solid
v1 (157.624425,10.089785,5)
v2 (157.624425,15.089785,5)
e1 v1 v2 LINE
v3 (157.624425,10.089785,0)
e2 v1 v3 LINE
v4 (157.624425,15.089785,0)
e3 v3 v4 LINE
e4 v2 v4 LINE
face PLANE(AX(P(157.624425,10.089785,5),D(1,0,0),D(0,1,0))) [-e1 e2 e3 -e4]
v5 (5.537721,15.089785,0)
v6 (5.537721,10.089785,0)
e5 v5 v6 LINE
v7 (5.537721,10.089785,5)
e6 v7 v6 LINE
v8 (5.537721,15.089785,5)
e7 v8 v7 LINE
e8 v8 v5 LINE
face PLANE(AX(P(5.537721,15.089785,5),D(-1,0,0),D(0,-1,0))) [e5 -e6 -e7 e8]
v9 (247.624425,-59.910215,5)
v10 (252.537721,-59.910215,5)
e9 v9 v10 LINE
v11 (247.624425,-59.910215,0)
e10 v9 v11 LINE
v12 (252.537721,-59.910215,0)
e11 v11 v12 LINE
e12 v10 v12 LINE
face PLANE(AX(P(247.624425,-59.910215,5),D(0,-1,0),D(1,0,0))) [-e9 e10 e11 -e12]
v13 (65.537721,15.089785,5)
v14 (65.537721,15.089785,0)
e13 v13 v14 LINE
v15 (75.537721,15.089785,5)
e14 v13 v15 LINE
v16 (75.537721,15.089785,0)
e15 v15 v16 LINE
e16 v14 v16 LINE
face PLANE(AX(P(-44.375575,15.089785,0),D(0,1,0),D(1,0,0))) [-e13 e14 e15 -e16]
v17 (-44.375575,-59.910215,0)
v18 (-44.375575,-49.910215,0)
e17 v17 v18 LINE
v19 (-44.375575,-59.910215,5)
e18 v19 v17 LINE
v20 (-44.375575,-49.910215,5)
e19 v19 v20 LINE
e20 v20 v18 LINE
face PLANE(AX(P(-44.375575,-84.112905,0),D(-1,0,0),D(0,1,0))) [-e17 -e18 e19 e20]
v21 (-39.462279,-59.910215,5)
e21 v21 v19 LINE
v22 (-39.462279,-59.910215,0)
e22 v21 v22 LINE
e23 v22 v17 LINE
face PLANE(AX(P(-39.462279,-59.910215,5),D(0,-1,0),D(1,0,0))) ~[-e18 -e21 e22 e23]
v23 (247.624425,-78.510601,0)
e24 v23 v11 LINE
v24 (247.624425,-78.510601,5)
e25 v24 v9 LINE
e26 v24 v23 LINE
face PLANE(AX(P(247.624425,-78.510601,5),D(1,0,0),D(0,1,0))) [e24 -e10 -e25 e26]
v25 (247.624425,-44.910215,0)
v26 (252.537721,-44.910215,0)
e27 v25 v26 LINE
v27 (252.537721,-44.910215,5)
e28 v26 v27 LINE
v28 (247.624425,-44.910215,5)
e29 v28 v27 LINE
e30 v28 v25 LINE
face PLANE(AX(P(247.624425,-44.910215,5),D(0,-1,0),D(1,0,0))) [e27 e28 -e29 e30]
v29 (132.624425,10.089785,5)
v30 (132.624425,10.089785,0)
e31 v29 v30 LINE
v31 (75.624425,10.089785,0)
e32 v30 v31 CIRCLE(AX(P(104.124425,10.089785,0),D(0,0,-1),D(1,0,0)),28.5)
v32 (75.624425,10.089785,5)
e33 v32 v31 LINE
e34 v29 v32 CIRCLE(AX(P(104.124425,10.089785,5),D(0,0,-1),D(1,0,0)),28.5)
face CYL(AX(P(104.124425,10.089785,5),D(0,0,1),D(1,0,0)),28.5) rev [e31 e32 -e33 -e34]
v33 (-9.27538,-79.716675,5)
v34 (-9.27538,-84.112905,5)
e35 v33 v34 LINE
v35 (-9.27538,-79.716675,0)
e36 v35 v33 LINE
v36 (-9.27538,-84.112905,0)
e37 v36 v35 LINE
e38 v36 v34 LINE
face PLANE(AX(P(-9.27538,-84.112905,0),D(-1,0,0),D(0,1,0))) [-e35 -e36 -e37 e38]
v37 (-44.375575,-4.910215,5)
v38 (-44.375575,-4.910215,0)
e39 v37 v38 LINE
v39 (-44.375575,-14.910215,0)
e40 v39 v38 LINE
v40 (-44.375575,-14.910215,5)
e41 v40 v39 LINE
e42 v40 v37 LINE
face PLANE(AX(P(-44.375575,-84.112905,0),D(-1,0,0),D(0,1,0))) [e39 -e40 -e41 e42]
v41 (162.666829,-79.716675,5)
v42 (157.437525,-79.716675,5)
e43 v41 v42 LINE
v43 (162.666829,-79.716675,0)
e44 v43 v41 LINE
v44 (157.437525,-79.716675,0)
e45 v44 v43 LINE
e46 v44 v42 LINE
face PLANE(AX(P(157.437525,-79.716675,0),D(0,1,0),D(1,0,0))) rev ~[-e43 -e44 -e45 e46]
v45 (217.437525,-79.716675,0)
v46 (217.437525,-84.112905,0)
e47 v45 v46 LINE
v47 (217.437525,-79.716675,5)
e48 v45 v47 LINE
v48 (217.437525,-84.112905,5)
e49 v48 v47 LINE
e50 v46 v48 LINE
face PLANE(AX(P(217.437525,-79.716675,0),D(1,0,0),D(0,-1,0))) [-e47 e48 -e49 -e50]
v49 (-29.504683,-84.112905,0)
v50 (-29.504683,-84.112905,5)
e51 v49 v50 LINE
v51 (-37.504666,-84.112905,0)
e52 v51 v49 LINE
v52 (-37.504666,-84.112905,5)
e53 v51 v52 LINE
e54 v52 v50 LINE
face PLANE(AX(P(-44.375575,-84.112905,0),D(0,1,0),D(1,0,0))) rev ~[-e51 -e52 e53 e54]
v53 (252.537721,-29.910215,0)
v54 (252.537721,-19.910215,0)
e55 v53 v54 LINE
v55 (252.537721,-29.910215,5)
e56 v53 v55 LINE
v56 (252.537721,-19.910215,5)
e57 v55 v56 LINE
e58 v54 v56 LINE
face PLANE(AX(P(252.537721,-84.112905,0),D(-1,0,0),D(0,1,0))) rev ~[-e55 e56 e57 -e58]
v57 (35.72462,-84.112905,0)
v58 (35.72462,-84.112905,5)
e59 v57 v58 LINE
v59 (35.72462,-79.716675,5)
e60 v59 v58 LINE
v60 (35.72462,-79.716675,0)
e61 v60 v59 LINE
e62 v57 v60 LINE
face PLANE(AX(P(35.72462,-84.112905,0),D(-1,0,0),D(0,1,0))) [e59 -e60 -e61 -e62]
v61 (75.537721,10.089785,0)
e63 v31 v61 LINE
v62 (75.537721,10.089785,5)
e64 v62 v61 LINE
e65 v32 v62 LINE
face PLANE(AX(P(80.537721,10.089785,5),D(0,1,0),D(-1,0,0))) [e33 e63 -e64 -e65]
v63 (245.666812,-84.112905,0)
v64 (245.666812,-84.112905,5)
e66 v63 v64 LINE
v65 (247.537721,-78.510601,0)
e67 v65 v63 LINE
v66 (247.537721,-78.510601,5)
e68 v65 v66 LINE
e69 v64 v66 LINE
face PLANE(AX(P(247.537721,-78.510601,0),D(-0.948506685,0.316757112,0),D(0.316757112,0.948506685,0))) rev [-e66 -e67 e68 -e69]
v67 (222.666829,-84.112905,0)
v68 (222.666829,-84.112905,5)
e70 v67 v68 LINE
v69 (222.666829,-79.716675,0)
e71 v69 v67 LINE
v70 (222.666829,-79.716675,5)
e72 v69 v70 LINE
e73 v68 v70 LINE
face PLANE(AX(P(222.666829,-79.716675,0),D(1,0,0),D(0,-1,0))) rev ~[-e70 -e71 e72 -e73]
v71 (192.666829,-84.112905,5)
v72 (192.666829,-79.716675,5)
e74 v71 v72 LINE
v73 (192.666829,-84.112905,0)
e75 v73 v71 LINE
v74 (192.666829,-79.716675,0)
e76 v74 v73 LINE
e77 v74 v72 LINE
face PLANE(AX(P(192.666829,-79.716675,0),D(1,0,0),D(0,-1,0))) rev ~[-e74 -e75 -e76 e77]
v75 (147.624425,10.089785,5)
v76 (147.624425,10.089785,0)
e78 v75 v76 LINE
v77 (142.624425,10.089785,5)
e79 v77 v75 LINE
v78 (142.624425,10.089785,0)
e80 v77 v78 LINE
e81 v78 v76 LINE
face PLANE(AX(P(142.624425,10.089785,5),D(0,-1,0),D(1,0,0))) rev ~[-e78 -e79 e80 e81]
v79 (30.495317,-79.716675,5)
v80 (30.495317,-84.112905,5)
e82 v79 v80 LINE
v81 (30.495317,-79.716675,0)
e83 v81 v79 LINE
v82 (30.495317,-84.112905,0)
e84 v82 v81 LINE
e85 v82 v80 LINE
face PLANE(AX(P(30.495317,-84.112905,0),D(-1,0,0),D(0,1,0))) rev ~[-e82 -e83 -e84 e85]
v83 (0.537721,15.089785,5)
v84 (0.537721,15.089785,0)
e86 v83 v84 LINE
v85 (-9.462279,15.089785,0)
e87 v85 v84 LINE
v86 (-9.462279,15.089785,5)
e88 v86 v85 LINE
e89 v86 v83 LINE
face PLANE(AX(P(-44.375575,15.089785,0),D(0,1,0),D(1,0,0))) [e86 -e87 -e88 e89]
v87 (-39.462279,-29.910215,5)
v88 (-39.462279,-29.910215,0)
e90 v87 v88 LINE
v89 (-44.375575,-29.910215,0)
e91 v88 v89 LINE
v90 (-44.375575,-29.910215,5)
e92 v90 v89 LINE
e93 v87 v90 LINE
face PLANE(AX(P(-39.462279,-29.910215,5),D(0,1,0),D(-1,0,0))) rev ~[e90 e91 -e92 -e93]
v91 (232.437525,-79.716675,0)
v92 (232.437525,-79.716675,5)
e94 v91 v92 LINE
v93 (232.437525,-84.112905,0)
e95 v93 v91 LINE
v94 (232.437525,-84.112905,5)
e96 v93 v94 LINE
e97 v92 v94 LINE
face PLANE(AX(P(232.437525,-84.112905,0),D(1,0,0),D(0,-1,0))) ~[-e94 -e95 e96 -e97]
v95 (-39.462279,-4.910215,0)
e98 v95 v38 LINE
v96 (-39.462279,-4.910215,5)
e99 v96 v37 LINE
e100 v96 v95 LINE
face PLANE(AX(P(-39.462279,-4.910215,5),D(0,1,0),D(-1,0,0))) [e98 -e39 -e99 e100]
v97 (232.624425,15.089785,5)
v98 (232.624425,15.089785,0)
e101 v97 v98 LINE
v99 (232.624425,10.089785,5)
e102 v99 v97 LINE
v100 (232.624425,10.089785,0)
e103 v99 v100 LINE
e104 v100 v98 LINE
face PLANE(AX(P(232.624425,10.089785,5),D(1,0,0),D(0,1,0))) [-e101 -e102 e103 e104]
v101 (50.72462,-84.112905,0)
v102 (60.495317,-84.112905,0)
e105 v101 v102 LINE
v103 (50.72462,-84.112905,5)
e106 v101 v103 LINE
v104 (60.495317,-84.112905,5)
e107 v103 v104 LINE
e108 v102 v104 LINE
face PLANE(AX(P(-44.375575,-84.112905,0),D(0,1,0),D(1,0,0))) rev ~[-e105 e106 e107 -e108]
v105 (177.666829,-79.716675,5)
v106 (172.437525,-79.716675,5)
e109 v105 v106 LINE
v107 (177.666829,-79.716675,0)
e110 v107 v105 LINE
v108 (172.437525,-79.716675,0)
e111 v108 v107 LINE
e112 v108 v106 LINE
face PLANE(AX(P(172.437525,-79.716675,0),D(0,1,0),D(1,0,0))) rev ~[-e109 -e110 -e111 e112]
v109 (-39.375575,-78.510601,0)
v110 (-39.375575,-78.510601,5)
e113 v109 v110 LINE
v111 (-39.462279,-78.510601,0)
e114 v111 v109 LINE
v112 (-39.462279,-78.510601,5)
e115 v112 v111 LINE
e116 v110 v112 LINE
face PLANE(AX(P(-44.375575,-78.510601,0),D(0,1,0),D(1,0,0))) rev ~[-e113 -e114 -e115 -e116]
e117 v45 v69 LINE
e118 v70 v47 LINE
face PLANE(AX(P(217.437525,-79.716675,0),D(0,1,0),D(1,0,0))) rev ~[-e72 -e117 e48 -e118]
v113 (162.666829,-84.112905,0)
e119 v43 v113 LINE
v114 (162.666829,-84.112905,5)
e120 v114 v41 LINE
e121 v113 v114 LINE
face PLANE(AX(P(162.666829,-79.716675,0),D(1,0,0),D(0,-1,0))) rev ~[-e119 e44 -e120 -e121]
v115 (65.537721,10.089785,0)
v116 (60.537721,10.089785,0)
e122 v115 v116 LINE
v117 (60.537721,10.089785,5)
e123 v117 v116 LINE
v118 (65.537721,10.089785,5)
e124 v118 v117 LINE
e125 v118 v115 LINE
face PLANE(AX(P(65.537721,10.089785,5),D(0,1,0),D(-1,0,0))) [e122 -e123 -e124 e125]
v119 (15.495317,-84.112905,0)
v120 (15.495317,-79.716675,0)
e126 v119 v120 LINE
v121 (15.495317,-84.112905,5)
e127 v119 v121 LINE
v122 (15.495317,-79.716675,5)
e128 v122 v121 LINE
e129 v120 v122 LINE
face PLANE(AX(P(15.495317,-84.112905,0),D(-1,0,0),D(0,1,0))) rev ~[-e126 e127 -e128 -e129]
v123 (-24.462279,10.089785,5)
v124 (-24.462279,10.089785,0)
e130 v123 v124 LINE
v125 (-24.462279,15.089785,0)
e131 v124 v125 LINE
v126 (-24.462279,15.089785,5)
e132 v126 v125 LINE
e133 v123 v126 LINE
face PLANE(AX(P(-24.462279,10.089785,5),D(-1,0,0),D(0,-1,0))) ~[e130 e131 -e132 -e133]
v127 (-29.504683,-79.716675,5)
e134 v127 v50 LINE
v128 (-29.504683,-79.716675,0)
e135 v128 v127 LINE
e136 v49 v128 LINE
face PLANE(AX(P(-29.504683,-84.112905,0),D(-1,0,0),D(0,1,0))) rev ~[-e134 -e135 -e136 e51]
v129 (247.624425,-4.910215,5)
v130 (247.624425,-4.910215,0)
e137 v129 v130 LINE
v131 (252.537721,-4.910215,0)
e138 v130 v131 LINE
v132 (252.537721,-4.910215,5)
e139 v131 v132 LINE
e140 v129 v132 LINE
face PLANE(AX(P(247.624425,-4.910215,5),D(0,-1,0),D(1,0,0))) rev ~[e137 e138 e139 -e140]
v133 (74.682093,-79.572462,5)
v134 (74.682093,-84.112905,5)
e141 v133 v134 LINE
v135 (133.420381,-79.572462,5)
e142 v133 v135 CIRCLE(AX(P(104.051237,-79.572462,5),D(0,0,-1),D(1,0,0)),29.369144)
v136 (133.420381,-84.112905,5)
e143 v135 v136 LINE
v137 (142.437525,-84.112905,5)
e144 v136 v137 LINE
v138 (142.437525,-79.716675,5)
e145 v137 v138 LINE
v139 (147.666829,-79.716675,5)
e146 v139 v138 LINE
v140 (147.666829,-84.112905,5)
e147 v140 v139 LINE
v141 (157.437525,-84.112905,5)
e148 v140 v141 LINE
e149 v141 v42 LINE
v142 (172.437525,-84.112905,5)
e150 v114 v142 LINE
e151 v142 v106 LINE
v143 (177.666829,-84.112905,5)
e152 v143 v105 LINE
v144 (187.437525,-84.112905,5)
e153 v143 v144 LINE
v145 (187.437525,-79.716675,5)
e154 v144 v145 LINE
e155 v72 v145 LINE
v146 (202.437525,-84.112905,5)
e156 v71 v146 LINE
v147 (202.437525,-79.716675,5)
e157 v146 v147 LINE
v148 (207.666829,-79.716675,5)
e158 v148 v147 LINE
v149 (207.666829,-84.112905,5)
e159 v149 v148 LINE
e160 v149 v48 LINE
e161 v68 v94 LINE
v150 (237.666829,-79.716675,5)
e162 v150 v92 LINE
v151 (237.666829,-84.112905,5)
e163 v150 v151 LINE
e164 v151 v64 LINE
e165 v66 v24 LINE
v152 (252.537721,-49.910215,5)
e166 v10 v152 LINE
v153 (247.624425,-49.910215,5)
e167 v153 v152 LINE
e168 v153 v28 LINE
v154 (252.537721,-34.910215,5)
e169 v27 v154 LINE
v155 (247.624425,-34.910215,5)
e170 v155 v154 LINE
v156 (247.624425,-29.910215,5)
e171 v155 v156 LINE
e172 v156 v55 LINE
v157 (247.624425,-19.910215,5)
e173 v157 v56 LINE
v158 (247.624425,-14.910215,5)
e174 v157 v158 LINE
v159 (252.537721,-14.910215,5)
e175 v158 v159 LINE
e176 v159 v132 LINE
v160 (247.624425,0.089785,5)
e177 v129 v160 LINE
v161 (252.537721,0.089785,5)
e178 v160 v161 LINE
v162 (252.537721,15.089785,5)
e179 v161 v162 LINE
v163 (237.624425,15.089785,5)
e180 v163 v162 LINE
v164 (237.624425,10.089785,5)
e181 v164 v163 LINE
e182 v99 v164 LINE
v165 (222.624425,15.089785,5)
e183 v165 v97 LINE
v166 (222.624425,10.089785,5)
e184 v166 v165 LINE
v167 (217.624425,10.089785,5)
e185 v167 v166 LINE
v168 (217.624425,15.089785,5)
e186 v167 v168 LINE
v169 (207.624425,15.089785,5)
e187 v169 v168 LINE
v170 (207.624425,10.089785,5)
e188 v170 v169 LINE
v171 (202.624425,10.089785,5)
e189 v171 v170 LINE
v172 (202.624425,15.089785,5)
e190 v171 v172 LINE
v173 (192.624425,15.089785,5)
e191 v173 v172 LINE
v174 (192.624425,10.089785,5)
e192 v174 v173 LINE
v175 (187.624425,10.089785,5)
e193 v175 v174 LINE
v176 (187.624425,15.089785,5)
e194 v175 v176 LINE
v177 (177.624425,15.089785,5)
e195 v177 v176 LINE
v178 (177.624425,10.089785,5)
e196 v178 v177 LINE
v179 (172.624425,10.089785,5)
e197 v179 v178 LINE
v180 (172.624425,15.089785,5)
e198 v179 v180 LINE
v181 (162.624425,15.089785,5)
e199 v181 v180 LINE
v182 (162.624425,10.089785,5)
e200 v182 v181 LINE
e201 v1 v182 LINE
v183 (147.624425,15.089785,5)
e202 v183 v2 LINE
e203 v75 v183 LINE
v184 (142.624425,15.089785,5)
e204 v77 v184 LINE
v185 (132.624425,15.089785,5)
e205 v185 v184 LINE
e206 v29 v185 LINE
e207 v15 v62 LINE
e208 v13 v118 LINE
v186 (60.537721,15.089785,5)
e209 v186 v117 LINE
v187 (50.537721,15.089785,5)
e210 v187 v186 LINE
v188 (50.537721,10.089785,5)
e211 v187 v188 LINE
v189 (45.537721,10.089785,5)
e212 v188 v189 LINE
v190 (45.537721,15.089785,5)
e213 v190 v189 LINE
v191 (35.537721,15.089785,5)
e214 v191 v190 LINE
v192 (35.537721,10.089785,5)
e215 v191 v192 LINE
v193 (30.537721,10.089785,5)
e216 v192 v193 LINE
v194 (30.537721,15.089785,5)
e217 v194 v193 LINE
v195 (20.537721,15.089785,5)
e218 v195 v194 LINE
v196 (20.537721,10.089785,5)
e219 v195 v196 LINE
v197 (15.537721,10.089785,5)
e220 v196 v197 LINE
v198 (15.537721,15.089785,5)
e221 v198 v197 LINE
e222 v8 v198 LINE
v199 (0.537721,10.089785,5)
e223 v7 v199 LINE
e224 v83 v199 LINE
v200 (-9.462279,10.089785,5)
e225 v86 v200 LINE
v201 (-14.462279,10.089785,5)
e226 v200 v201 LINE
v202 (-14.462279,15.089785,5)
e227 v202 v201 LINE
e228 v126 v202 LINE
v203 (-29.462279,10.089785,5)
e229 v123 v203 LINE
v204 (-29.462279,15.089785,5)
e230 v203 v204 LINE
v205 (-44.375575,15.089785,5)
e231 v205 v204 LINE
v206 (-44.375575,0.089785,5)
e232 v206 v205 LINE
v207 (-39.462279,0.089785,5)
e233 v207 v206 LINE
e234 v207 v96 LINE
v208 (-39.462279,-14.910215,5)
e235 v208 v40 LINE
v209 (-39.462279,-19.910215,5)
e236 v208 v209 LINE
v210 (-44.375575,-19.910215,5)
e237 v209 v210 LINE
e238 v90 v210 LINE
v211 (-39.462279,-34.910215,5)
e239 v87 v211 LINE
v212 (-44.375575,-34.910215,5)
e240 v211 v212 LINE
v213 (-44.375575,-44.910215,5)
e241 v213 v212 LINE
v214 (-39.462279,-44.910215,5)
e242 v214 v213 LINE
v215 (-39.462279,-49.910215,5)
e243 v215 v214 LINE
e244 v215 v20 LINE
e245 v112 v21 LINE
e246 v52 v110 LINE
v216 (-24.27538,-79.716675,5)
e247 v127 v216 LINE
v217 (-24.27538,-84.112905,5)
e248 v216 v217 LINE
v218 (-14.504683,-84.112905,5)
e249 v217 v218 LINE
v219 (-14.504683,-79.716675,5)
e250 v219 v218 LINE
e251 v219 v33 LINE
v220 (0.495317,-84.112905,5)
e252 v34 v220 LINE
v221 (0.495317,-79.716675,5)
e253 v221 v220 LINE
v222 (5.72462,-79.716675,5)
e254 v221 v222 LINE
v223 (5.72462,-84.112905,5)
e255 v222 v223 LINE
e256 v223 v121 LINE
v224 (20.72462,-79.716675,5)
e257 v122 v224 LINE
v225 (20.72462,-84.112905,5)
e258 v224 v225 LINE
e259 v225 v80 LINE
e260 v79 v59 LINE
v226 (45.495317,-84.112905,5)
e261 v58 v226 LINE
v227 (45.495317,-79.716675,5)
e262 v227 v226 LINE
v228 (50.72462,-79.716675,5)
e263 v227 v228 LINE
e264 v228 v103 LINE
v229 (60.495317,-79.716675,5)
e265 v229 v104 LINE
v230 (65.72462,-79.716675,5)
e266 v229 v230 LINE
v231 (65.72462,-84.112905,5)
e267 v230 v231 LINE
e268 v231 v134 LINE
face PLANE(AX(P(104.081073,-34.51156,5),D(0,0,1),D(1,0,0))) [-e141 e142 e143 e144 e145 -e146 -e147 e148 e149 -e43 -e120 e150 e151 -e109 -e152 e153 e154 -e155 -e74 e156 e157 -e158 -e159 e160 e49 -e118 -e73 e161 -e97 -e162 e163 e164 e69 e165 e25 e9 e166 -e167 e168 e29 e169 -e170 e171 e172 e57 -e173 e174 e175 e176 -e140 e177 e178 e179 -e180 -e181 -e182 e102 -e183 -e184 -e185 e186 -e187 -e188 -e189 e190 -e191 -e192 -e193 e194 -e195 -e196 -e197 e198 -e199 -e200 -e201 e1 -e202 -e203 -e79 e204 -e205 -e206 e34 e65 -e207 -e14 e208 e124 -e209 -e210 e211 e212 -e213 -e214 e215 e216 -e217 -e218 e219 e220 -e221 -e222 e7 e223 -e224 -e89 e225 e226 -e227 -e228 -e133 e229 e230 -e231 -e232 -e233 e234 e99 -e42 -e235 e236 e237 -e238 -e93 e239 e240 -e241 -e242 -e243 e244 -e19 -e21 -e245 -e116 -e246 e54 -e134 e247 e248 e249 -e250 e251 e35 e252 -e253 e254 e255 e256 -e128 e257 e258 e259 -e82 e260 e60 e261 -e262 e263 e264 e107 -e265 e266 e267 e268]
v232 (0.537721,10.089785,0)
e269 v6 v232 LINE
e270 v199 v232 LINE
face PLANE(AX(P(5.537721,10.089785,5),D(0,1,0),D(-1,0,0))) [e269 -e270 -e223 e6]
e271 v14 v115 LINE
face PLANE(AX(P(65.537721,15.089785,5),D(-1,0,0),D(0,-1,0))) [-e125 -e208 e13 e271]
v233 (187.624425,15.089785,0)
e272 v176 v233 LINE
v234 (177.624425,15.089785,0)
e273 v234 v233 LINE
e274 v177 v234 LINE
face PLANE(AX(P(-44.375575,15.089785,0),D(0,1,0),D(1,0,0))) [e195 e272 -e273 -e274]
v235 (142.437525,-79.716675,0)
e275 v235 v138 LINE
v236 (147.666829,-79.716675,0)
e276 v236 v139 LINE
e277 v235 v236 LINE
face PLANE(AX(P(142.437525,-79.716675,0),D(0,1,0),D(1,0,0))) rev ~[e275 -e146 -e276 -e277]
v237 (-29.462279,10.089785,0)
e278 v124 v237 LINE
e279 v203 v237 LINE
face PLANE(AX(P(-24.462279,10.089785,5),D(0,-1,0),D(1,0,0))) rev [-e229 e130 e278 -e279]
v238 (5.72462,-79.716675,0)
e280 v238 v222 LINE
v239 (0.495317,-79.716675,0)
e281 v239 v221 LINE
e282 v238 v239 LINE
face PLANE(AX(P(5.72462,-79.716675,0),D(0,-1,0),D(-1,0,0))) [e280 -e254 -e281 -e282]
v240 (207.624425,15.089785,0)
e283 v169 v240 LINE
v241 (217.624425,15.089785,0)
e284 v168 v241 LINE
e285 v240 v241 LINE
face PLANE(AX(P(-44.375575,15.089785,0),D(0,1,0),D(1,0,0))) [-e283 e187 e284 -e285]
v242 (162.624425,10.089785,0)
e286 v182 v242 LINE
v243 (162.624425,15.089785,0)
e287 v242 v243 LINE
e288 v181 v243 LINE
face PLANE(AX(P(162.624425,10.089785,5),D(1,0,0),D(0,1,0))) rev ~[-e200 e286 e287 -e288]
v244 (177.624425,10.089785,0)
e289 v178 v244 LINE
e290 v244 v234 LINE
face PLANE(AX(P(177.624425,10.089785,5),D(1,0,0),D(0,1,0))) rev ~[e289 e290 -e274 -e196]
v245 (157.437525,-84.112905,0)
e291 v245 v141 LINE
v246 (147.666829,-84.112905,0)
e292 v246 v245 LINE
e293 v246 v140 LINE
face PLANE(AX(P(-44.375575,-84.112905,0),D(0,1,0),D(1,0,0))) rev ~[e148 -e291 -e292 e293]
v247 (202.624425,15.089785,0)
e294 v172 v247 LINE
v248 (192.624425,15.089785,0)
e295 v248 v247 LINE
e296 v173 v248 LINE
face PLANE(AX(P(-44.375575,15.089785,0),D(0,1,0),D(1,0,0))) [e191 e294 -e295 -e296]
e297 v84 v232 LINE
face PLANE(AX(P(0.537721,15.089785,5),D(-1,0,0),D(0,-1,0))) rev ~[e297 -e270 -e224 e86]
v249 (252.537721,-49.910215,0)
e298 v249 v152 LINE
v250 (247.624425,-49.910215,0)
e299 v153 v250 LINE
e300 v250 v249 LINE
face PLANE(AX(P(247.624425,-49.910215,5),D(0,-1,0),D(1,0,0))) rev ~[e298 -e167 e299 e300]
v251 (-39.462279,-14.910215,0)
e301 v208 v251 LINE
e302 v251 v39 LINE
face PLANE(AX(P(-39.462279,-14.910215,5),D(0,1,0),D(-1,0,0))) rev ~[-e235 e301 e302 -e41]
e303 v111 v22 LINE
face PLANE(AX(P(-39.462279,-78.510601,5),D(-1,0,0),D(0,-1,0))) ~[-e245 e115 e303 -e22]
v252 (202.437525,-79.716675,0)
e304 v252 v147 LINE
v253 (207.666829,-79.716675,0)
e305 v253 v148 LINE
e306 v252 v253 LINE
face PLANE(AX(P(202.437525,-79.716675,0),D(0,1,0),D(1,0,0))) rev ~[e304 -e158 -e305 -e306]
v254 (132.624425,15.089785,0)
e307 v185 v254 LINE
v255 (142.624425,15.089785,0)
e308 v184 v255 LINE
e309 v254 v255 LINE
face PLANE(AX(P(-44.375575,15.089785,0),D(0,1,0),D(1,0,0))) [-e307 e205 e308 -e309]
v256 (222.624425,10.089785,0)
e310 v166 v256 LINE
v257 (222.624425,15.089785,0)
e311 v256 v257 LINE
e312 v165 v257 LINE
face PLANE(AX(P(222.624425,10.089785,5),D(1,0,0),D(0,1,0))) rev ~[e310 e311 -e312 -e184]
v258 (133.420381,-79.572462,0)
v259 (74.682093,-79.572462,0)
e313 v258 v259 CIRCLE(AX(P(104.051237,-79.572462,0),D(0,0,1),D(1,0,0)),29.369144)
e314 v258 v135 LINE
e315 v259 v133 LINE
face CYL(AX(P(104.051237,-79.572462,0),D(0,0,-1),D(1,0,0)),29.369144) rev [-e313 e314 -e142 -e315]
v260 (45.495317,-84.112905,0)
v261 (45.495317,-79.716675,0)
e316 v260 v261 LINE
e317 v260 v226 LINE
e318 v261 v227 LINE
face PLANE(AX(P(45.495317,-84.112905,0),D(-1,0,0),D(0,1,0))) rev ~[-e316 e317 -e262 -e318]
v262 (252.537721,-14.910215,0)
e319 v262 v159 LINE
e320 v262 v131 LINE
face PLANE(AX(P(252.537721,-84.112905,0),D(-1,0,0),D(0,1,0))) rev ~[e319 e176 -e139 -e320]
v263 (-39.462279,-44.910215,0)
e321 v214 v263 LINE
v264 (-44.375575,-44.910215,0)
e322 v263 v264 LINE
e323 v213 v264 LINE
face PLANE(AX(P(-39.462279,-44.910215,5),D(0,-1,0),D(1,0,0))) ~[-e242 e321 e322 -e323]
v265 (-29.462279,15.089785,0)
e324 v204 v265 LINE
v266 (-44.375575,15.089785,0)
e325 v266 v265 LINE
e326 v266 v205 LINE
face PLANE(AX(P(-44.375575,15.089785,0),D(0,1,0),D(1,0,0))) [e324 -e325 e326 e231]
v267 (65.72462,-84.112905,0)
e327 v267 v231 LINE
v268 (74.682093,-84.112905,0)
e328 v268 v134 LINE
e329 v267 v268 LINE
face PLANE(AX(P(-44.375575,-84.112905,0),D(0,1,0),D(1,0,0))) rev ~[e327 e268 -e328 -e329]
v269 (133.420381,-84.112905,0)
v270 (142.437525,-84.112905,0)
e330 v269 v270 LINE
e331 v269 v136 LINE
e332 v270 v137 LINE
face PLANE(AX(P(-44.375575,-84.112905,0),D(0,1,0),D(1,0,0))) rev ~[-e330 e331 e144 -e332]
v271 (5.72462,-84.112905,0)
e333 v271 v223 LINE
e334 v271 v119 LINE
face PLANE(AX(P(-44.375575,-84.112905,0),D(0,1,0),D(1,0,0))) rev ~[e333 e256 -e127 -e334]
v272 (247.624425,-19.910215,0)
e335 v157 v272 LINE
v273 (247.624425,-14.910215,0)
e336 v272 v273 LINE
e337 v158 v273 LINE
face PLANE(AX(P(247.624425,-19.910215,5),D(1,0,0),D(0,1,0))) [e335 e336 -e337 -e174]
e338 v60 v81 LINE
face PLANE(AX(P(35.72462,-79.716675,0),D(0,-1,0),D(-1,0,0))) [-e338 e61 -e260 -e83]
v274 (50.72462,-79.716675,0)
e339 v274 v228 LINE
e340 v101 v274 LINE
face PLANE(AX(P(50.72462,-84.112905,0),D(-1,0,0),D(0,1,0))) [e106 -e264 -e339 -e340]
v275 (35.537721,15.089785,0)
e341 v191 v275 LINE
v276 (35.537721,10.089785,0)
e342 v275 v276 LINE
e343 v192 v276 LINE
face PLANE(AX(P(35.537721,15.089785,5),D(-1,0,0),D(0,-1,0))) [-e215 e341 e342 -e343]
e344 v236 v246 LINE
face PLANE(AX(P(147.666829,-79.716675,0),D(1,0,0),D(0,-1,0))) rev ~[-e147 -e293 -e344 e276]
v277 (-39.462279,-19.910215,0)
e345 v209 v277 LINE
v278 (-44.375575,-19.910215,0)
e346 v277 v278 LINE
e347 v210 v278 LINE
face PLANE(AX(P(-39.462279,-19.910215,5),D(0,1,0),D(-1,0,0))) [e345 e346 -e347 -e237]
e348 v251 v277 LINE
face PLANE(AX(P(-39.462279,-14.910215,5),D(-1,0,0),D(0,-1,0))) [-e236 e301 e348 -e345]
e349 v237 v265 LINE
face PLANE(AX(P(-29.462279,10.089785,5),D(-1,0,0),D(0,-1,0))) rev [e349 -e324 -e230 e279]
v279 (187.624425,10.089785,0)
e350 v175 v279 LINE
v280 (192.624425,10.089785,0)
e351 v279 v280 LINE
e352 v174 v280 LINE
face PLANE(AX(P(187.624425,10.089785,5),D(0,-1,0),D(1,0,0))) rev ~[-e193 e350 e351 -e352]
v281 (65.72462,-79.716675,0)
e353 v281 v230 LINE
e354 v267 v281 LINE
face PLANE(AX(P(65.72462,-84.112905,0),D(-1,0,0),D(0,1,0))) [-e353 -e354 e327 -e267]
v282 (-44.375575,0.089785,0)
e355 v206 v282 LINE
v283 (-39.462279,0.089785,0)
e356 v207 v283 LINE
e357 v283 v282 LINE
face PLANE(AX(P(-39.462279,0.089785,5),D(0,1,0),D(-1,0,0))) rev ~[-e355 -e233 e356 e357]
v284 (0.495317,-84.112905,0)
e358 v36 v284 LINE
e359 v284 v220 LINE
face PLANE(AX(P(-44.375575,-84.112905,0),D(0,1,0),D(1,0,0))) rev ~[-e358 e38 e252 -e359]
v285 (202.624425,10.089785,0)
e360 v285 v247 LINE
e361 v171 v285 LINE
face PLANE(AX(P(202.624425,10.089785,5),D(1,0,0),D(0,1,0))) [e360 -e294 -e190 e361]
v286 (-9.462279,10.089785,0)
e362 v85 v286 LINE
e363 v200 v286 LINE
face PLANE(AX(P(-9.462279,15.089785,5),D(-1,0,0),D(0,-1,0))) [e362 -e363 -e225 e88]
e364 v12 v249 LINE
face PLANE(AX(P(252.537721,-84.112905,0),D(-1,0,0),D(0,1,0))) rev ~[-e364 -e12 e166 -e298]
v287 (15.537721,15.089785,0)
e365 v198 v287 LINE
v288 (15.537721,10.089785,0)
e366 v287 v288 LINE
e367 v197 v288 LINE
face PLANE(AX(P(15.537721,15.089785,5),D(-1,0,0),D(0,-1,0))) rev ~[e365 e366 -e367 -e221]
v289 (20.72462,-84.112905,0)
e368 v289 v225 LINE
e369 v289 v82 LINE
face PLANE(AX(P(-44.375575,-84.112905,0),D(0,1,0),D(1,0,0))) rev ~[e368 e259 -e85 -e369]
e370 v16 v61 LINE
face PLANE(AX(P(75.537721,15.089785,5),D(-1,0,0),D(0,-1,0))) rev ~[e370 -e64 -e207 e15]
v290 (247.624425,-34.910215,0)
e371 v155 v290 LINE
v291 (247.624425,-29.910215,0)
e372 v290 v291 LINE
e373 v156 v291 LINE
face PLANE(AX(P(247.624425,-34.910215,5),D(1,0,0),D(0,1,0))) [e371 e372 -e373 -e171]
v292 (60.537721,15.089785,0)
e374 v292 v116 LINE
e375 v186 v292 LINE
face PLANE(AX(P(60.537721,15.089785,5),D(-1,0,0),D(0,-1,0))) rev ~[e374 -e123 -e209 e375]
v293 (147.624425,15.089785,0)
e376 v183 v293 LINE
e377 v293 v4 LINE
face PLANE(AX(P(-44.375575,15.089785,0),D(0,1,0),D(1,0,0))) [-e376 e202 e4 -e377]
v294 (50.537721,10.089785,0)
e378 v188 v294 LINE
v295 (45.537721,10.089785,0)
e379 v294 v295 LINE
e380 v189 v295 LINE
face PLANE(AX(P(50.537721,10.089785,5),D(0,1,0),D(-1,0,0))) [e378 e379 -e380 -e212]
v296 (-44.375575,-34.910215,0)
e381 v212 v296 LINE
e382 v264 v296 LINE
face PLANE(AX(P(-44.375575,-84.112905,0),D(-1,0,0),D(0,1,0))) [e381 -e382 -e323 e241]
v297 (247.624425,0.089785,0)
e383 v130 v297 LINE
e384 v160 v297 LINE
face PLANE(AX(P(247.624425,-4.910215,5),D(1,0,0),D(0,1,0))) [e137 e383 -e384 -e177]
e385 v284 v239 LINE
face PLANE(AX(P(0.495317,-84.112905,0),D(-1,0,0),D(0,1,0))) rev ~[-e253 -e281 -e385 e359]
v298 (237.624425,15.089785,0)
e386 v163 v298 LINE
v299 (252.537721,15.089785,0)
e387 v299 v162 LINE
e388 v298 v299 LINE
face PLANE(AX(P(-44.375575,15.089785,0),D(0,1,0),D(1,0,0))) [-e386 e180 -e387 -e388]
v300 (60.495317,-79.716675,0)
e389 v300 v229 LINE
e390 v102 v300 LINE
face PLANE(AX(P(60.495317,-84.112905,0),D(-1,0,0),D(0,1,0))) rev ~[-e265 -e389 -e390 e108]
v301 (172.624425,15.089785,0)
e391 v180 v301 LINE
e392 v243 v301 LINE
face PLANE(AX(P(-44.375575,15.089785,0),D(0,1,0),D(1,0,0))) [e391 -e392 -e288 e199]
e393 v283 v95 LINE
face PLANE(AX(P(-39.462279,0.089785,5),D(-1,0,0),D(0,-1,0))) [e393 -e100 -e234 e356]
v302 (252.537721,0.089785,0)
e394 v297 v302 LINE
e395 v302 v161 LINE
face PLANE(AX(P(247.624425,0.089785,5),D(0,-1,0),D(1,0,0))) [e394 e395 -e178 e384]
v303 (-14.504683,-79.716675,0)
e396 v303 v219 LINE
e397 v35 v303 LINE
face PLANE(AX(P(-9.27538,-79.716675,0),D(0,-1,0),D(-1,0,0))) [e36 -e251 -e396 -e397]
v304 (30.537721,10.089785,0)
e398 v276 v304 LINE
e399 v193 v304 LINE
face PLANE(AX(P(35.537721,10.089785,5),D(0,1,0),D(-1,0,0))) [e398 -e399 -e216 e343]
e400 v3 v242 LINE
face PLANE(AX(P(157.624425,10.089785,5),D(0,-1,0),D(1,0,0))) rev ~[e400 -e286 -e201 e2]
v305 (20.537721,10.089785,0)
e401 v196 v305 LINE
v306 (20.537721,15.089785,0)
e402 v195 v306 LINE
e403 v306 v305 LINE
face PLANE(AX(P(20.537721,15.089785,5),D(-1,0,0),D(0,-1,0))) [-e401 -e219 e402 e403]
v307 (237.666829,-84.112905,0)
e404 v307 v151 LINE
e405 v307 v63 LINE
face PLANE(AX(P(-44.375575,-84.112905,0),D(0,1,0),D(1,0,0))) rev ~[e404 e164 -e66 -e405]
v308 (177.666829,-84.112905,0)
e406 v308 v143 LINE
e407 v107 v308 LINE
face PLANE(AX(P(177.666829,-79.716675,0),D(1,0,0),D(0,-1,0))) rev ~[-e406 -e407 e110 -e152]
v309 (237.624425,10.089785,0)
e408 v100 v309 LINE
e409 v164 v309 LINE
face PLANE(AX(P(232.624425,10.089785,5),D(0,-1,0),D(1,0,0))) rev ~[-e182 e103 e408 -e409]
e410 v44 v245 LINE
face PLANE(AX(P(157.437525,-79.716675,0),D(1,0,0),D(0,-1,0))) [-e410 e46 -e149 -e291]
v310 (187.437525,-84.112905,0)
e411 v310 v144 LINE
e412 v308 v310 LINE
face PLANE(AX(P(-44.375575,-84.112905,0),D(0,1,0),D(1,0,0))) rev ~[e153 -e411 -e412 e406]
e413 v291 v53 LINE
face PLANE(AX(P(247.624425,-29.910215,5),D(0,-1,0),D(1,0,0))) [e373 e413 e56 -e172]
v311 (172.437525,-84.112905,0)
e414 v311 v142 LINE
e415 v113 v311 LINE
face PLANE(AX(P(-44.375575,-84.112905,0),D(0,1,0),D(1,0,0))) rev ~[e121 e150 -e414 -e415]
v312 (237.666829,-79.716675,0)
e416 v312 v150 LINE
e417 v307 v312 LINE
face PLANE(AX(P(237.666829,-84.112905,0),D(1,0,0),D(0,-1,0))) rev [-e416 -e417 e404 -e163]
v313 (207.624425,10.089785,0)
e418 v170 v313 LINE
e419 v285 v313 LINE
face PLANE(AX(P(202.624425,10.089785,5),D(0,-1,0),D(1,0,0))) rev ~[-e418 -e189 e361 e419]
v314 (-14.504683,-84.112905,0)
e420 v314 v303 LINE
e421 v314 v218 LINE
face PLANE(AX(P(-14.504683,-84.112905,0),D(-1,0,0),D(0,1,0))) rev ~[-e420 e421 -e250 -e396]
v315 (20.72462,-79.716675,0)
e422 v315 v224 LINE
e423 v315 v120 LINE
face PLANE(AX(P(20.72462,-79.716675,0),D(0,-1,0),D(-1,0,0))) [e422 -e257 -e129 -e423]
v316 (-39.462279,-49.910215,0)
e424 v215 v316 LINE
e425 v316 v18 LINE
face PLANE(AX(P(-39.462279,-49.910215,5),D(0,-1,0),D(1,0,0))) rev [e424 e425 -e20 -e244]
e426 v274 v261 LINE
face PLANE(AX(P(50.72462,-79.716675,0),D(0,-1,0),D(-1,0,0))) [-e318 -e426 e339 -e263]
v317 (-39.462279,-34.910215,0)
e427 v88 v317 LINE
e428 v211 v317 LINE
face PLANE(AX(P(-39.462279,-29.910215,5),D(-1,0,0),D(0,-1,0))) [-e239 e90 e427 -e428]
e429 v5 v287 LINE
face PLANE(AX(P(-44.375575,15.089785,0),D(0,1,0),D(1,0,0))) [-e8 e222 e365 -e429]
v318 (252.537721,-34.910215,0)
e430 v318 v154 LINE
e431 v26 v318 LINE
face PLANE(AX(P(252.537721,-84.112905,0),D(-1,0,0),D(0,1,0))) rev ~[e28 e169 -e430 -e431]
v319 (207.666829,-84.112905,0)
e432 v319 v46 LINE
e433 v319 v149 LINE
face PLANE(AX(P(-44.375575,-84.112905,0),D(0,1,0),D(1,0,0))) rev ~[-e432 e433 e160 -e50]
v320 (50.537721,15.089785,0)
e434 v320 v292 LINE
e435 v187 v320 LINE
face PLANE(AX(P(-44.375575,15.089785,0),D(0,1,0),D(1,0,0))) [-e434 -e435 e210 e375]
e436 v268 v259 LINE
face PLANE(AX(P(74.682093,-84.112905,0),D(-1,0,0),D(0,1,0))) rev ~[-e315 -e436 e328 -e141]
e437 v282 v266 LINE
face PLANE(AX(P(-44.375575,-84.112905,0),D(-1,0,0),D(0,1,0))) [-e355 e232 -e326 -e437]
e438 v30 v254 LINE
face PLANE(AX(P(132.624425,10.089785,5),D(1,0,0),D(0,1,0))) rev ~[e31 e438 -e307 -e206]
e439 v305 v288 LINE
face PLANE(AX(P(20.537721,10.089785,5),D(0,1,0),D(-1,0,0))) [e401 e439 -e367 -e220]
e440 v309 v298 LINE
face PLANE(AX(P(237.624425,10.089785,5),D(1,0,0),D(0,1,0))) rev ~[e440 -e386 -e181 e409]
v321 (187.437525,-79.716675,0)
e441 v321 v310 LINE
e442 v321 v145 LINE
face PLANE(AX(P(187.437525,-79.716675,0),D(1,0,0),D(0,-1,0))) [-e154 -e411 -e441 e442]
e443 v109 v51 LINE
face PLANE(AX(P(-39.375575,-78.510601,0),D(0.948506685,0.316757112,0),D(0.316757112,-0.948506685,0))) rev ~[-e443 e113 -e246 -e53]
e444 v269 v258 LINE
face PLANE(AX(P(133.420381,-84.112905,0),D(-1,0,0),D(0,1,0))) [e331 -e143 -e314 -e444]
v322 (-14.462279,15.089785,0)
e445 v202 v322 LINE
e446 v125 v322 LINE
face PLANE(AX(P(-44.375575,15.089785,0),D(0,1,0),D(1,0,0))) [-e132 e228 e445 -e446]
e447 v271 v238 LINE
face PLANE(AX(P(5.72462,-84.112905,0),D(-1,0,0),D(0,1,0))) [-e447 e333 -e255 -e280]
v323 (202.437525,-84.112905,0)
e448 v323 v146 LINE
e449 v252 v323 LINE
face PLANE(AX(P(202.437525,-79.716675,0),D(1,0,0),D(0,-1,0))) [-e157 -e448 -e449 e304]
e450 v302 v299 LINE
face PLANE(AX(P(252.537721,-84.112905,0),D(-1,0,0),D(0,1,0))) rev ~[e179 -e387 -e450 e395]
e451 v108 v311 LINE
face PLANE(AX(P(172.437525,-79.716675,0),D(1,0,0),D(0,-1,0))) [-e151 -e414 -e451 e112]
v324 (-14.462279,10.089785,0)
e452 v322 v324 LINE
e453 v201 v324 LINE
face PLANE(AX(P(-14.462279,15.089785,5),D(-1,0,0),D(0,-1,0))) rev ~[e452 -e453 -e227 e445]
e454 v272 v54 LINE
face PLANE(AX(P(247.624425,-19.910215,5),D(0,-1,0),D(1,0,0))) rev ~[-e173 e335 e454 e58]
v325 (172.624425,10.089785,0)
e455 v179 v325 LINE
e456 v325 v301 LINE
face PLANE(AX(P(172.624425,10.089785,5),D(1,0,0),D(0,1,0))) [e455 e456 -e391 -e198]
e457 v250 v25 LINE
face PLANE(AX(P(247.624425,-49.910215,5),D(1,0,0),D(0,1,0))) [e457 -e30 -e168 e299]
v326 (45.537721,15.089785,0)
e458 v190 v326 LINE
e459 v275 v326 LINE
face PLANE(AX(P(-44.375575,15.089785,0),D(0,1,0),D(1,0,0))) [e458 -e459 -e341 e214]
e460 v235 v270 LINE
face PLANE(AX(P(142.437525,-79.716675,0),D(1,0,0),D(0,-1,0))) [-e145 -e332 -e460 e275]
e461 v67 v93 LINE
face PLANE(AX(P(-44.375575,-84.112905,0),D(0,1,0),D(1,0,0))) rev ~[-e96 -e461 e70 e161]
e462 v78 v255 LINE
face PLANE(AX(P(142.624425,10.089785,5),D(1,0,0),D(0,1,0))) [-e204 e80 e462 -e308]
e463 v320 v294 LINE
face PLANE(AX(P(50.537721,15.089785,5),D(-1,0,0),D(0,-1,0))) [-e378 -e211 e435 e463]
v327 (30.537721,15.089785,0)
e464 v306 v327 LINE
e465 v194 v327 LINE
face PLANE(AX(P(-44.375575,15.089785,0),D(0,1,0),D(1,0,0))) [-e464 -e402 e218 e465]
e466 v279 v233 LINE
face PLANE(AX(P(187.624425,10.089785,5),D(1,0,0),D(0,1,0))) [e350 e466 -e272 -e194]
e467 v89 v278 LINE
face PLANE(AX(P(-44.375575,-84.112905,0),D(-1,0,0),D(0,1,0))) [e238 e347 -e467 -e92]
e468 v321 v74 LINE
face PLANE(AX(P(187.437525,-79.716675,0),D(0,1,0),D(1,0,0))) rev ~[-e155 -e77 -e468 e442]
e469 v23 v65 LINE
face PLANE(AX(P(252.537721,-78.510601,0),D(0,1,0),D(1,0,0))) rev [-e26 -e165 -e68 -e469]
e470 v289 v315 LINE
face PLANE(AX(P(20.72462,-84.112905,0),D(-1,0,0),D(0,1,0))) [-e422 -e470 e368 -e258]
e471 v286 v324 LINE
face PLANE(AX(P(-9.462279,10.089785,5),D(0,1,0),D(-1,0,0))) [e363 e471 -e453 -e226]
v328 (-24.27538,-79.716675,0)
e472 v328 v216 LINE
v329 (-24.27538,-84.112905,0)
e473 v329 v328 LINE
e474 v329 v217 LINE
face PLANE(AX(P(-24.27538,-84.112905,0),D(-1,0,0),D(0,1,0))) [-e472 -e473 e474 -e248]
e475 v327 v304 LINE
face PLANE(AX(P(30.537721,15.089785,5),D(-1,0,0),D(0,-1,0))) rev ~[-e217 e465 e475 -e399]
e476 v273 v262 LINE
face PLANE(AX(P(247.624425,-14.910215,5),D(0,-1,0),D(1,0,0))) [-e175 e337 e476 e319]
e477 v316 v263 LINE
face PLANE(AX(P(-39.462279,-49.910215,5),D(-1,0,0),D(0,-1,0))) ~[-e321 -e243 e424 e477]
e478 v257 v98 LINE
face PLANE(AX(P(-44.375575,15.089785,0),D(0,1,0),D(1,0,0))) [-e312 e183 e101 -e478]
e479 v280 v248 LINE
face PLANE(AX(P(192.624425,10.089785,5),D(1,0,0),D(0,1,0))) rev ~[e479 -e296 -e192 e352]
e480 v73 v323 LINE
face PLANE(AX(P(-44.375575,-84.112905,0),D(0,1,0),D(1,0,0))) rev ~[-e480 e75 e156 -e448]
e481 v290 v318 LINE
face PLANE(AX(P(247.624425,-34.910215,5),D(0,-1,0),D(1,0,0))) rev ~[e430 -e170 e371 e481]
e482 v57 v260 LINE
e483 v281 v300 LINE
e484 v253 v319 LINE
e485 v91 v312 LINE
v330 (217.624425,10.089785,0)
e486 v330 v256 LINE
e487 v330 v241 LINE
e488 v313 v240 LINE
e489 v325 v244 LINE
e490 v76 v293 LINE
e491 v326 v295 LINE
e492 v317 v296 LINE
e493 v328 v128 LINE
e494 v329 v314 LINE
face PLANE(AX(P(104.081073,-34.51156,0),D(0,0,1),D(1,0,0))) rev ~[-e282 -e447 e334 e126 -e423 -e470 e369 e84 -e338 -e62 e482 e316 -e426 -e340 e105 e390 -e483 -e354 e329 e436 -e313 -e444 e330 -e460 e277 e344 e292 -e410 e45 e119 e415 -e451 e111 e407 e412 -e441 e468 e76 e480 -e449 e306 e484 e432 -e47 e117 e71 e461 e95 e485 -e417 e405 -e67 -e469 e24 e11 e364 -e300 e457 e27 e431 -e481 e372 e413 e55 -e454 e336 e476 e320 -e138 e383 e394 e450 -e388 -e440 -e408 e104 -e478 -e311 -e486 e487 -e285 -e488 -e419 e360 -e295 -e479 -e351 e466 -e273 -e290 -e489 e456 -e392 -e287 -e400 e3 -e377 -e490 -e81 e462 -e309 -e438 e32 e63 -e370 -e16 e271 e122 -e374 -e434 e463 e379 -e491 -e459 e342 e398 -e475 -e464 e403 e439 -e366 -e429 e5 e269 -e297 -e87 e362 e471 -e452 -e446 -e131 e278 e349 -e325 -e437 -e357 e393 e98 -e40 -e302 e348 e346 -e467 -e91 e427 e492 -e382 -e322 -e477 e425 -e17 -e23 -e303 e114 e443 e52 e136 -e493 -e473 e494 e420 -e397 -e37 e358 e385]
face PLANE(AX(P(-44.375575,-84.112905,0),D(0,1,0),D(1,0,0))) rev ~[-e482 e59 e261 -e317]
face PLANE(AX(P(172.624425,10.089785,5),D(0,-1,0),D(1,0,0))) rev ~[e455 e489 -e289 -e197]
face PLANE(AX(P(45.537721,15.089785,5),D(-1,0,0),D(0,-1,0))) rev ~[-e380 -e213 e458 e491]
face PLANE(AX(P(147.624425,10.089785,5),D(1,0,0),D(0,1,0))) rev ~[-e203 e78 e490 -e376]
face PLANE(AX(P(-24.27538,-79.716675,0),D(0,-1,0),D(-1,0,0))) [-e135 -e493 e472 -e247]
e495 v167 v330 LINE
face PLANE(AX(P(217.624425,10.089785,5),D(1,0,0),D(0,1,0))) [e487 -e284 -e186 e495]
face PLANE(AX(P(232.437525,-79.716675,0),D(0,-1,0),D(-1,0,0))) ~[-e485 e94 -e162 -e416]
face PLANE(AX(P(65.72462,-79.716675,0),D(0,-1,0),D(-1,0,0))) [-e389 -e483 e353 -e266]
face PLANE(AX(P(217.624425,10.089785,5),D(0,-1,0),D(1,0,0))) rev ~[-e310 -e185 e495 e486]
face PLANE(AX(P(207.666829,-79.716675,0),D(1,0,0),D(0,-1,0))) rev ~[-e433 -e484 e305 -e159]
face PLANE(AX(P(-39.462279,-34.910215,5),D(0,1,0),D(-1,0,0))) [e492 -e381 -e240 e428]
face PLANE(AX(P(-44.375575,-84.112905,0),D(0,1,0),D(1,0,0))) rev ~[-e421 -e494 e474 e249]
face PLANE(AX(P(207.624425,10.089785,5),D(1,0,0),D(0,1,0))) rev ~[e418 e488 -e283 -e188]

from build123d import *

# Parameters (mm, degrees)
ESQUISSE1_W                = 296.913296363
ESQUISSE1_H                = 99.202689883
BOSS_EXTRU_1_DEPTH         = 5
ENL_V_MAT_EXTRU_1_DEPTH    = 10
ESQUISSE3_W                = 5.229303798
ESQUISSE3_H                = 4.396229451
ENL_V_MAT_EXTRU_2_DEPTH    = 10
R_P_TITION_LIN_AIRE1_COUNT = 7
R_P_TITION_LIN_AIRE1_PITCH = 15
SYM_TRIE1_COPY_1_SKETCH_W  = 5.229303798
SYM_TRIE1_COPY_1_SKETCH_H  = 4.396229451
SYM_TRIE1_COPY_1_DEPTH     = 10
SYM_TRIE1_COPY_2_SKETCH_W  = 5.229303798
SYM_TRIE1_COPY_2_SKETCH_H  = 4.396229451
SYM_TRIE1_COPY_2_DEPTH     = 10
SYM_TRIE1_COPY_3_SKETCH_W  = 5.229303798
SYM_TRIE1_COPY_3_SKETCH_H  = 4.396229451
SYM_TRIE1_COPY_3_DEPTH     = 10
SYM_TRIE1_COPY_4_SKETCH_W  = 5.229303798
SYM_TRIE1_COPY_4_SKETCH_H  = 4.396229451
SYM_TRIE1_COPY_4_DEPTH     = 10
SYM_TRIE1_COPY_5_SKETCH_W  = 5.229303798
SYM_TRIE1_COPY_5_SKETCH_H  = 4.396229451
SYM_TRIE1_COPY_5_DEPTH     = 10
SYM_TRIE1_COPY_6_SKETCH_W  = 5.229303798
SYM_TRIE1_COPY_6_SKETCH_H  = 4.396229451
SYM_TRIE1_COPY_6_DEPTH     = 10
ESQUISSE4_W                = 58.738288448
ESQUISSE4_H                = 4.540442772
ENL_V_MAT_EXTRU_3_DEPTH    = 10
ENL_V_MAT_EXTRU_4_DEPTH    = 10
ESQUISSE6_W                = 5
ESQUISSE6_H                = 5
ENL_V_MAT_EXTRU_5_DEPTH    = 5
R_P_TITION_LIN_AIRE2_COUNT = 8
R_P_TITION_LIN_AIRE2_PITCH = 15
ESQUISSE7_W                = 57
ESQUISSE7_H                = 5
ENL_V_MAT_EXTRU_6_DEPTH    = 5
ENL_V_MAT_EXTRU_7_DEPTH    = 5
SYM_TRIE2_COPY_1_SKETCH_W  = 5
SYM_TRIE2_COPY_1_SKETCH_H  = 5
SYM_TRIE2_COPY_1_DEPTH     = 5
SYM_TRIE2_COPY_2_SKETCH_W  = 5
SYM_TRIE2_COPY_2_SKETCH_H  = 5
SYM_TRIE2_COPY_2_DEPTH     = 5
SYM_TRIE2_COPY_3_SKETCH_W  = 5
SYM_TRIE2_COPY_3_SKETCH_H  = 5
SYM_TRIE2_COPY_3_DEPTH     = 5
SYM_TRIE2_COPY_4_SKETCH_W  = 5
SYM_TRIE2_COPY_4_SKETCH_H  = 5
SYM_TRIE2_COPY_4_DEPTH     = 5
SYM_TRIE2_COPY_5_SKETCH_W  = 5
SYM_TRIE2_COPY_5_SKETCH_H  = 5
SYM_TRIE2_COPY_5_DEPTH     = 5
SYM_TRIE2_COPY_6_SKETCH_W  = 5
SYM_TRIE2_COPY_6_SKETCH_H  = 5
SYM_TRIE2_COPY_6_DEPTH     = 5
SYM_TRIE2_COPY_7_SKETCH_W  = 5
SYM_TRIE2_COPY_7_SKETCH_H  = 5
SYM_TRIE2_COPY_7_DEPTH     = 5
ESQUISSE9_W                = 4.913296363
ESQUISSE9_H                = 18.600386247
ENL_V_MAT_EXTRU_8_DEPTH    = 5
ESQUISSE10_W               = 5
ESQUISSE10_H               = 5
ENL_V_MAT_EXTRU_9_DEPTH    = 5
R_P_TITION_LIN_AIRE3_COUNT = 4
R_P_TITION_LIN_AIRE3_PITCH = 15
SYM_TRIE3_COPY_1_SKETCH_W  = 5
SYM_TRIE3_COPY_1_SKETCH_H  = 5
SYM_TRIE3_COPY_1_DEPTH     = 5
SYM_TRIE3_COPY_2_SKETCH_W  = 5
SYM_TRIE3_COPY_2_SKETCH_H  = 5
SYM_TRIE3_COPY_2_DEPTH     = 5
SYM_TRIE3_COPY_3_SKETCH_W  = 5
SYM_TRIE3_COPY_3_SKETCH_H  = 5
SYM_TRIE3_COPY_3_DEPTH     = 5


with BuildPart() as part:
    # Esquisse1 → Boss.-Extru.1 (new body)
    with BuildSketch(Plane.XY):
        with Locations((104.081072913, -34.511559996)):
            Rectangle(ESQUISSE1_W, ESQUISSE1_H)
    extrude(amount=BOSS_EXTRU_1_DEPTH)

    # Esquisse2 → Enlèv. mat.-Extru.1 (cut)
    with BuildSketch(Plane(origin=(0, 0, 0), x_dir=(-1, 0, 0), z_dir=(0, 0, -1))):
        Polygon((44.375575269, -78.510601301), (39.375575269, -78.510601301), (37.504666451, -84.112904937), (44.375575269, -84.112904937), align=None)
    enl_v_mat_extru_1 = extrude(amount=-ENL_V_MAT_EXTRU_1_DEPTH, mode=Mode.SUBTRACT)

    # Esquisse3 → Enlèv. mat.-Extru.2 (cut)
    with BuildSketch(Plane(origin=(0, 0, 0), x_dir=(-1, 0, 0), z_dir=(0, 0, -1))):
        with Locations((26.890031572, -81.914790212)):
            Rectangle(ESQUISSE3_W, ESQUISSE3_H)
    enl_v_mat_extru_2 = extrude(amount=-ENL_V_MAT_EXTRU_2_DEPTH, mode=Mode.SUBTRACT)

    # Répétition linéaire1: Enlèv. mat.-Extru.2 ×7
    with Locations(*[(i * R_P_TITION_LIN_AIRE1_PITCH, 0, 0) for i in range(1, R_P_TITION_LIN_AIRE1_COUNT)]):
        add(enl_v_mat_extru_2, mode=Mode.SUBTRACT)

    # Symétrie1: Enlèv. mat.-Extru.1, Enlèv. mat.-Extru.2 across plane
    add(enl_v_mat_extru_1.mirror(Plane.ZY.offset(-104.081072913)), mode=Mode.SUBTRACT)
    add(enl_v_mat_extru_2.mirror(Plane.ZY.offset(-104.081072913)), mode=Mode.SUBTRACT)

    # Symétrie1 copy 1 sketch → Symétrie1 copy 1 (cut)
    with BuildSketch(Plane(origin=(193.162145825, 0, 0), x_dir=(1, 0, 0), z_dir=(0, 0, -1))):
        with Locations((26.890031572, 81.914790212)):
            Rectangle(SYM_TRIE1_COPY_1_SKETCH_W, SYM_TRIE1_COPY_1_SKETCH_H)
    extrude(amount=-SYM_TRIE1_COPY_1_DEPTH, mode=Mode.SUBTRACT)

    # Symétrie1 copy 2 sketch → Symétrie1 copy 2 (cut)
    with BuildSketch(Plane(origin=(178.162145825, 0, 0), x_dir=(1, 0, 0), z_dir=(0, 0, -1))):
        with Locations((26.890031572, 81.914790212)):
            Rectangle(SYM_TRIE1_COPY_2_SKETCH_W, SYM_TRIE1_COPY_2_SKETCH_H)
    extrude(amount=-SYM_TRIE1_COPY_2_DEPTH, mode=Mode.SUBTRACT)

    # Symétrie1 copy 3 sketch → Symétrie1 copy 3 (cut)
    with BuildSketch(Plane(origin=(163.162145825, 0, 0), x_dir=(1, 0, 0), z_dir=(0, 0, -1))):
        with Locations((26.890031572, 81.914790212)):
            Rectangle(SYM_TRIE1_COPY_3_SKETCH_W, SYM_TRIE1_COPY_3_SKETCH_H)
    extrude(amount=-SYM_TRIE1_COPY_3_DEPTH, mode=Mode.SUBTRACT)

    # Symétrie1 copy 4 sketch → Symétrie1 copy 4 (cut)
    with BuildSketch(Plane(origin=(148.162145825, 0, 0), x_dir=(1, 0, 0), z_dir=(0, 0, -1))):
        with Locations((26.890031572, 81.914790212)):
            Rectangle(SYM_TRIE1_COPY_4_SKETCH_W, SYM_TRIE1_COPY_4_SKETCH_H)
    extrude(amount=-SYM_TRIE1_COPY_4_DEPTH, mode=Mode.SUBTRACT)

    # Symétrie1 copy 5 sketch → Symétrie1 copy 5 (cut)
    with BuildSketch(Plane(origin=(133.162145825, 0, 0), x_dir=(1, 0, 0), z_dir=(0, 0, -1))):
        with Locations((26.890031572, 81.914790212)):
            Rectangle(SYM_TRIE1_COPY_5_SKETCH_W, SYM_TRIE1_COPY_5_SKETCH_H)
    extrude(amount=-SYM_TRIE1_COPY_5_DEPTH, mode=Mode.SUBTRACT)

    # Symétrie1 copy 6 sketch → Symétrie1 copy 6 (cut)
    with BuildSketch(Plane(origin=(118.162145825, 0, 0), x_dir=(1, 0, 0), z_dir=(0, 0, -1))):
        with Locations((26.890031572, 81.914790212)):
            Rectangle(SYM_TRIE1_COPY_6_SKETCH_W, SYM_TRIE1_COPY_6_SKETCH_H)
    extrude(amount=-SYM_TRIE1_COPY_6_DEPTH, mode=Mode.SUBTRACT)

    # Esquisse4 → Enlèv. mat.-Extru.3 (cut)
    with BuildSketch(Plane(origin=(0, 0, 0), x_dir=(-1, 0, 0), z_dir=(0, 0, -1))):
        with Locations((-104.051236875, -81.842683551)):
            Rectangle(ESQUISSE4_W, ESQUISSE4_H)
    extrude(amount=-ENL_V_MAT_EXTRU_3_DEPTH, mode=Mode.SUBTRACT)

    # Esquisse5 → Enlèv. mat.-Extru.4 (cut)
    with BuildSketch(Plane(origin=(0, 0, 0), x_dir=(-1, 0, 0), z_dir=(0, 0, -1))):
        with BuildLine():
            Line((-74.682092651, -79.572462165), (-133.420381099, -79.572462165))
            ThreePointArc((-133.420381099, -79.572462165), (-104.051236875, -50.20331794), (-74.682092651, -79.572462165))
        make_face()
    extrude(amount=-ENL_V_MAT_EXTRU_4_DEPTH, mode=Mode.SUBTRACT)

    # Esquisse6 → Enlèv. mat.-Extru.5 (cut)
    with BuildSketch(Plane.XY.offset(5)):
        with Locations((235.124424731, 12.589784946)):
            Rectangle(ESQUISSE6_W, ESQUISSE6_H)
    enl_v_mat_extru_5 = extrude(amount=-ENL_V_MAT_EXTRU_5_DEPTH, mode=Mode.SUBTRACT)

    # Répétition linéaire2: Enlèv. mat.-Extru.5 ×8
    with Locations(*[(-i * R_P_TITION_LIN_AIRE2_PITCH, 0, 0) for i in range(1, R_P_TITION_LIN_AIRE2_COUNT)]):
        add(enl_v_mat_extru_5, mode=Mode.SUBTRACT)

    # Esquisse7 → Enlèv. mat.-Extru.6 (cut)
    with BuildSketch(Plane.XY.offset(5)):
        with Locations((104.124424731, 12.589784946)):
            Rectangle(ESQUISSE7_W, ESQUISSE7_H)
    extrude(amount=-ENL_V_MAT_EXTRU_6_DEPTH, mode=Mode.SUBTRACT)

    # Esquisse8 → Enlèv. mat.-Extru.7 (cut)
    with BuildSketch(Plane.XY.offset(5)):
        with BuildLine():
            ThreePointArc((132.624424731, 10.089784946), (104.124424731, -18.410215054), (75.624424731, 10.089784946))
            Line((75.624424731, 10.089784946), (132.624424731, 10.089784946))
        make_face()
    extrude(amount=-ENL_V_MAT_EXTRU_7_DEPTH, mode=Mode.SUBTRACT)

    # Symétrie2: Enlèv. mat.-Extru.5 across plane
    add(enl_v_mat_extru_5.mirror(Plane(origin=(104.081072913, 0, 0), x_dir=(0, 0, 1), z_dir=(1, 0, 0))), mode=Mode.SUBTRACT)

    # Symétrie2 copy 1 sketch → Symétrie2 copy 1 (cut)
    with BuildSketch(Plane(origin=(223.162145825, 0, 5), x_dir=(-1, 0, 0), z_dir=(0, 0, 1))):
        with Locations((235.124424731, -12.589784946)):
            Rectangle(SYM_TRIE2_COPY_1_SKETCH_W, SYM_TRIE2_COPY_1_SKETCH_H)
    extrude(amount=-SYM_TRIE2_COPY_1_DEPTH, mode=Mode.SUBTRACT)

    # Symétrie2 copy 2 sketch → Symétrie2 copy 2 (cut)
    with BuildSketch(Plane(origin=(238.162145825, 0, 5), x_dir=(-1, 0, 0), z_dir=(0, 0, 1))):
        with Locations((235.124424731, -12.589784946)):
            Rectangle(SYM_TRIE2_COPY_2_SKETCH_W, SYM_TRIE2_COPY_2_SKETCH_H)
    extrude(amount=-SYM_TRIE2_COPY_2_DEPTH, mode=Mode.SUBTRACT)

    # Symétrie2 copy 3 sketch → Symétrie2 copy 3 (cut)
    with BuildSketch(Plane(origin=(253.162145825, 0, 5), x_dir=(-1, 0, 0), z_dir=(0, 0, 1))):
        with Locations((235.124424731, -12.589784946)):
            Rectangle(SYM_TRIE2_COPY_3_SKETCH_W, SYM_TRIE2_COPY_3_SKETCH_H)
    extrude(amount=-SYM_TRIE2_COPY_3_DEPTH, mode=Mode.SUBTRACT)

    # Symétrie2 copy 4 sketch → Symétrie2 copy 4 (cut)
    with BuildSketch(Plane(origin=(268.162145825, 0, 5), x_dir=(-1, 0, 0), z_dir=(0, 0, 1))):
        with Locations((235.124424731, -12.589784946)):
            Rectangle(SYM_TRIE2_COPY_4_SKETCH_W, SYM_TRIE2_COPY_4_SKETCH_H)
    extrude(amount=-SYM_TRIE2_COPY_4_DEPTH, mode=Mode.SUBTRACT)

    # Symétrie2 copy 5 sketch → Symétrie2 copy 5 (cut)
    with BuildSketch(Plane(origin=(283.162145825, 0, 5), x_dir=(-1, 0, 0), z_dir=(0, 0, 1))):
        with Locations((235.124424731, -12.589784946)):
            Rectangle(SYM_TRIE2_COPY_5_SKETCH_W, SYM_TRIE2_COPY_5_SKETCH_H)
    extrude(amount=-SYM_TRIE2_COPY_5_DEPTH, mode=Mode.SUBTRACT)

    # Symétrie2 copy 6 sketch → Symétrie2 copy 6 (cut)
    with BuildSketch(Plane(origin=(298.162145825, 0, 5), x_dir=(-1, 0, 0), z_dir=(0, 0, 1))):
        with Locations((235.124424731, -12.589784946)):
            Rectangle(SYM_TRIE2_COPY_6_SKETCH_W, SYM_TRIE2_COPY_6_SKETCH_H)
    extrude(amount=-SYM_TRIE2_COPY_6_DEPTH, mode=Mode.SUBTRACT)

    # Symétrie2 copy 7 sketch → Symétrie2 copy 7 (cut)
    with BuildSketch(Plane(origin=(313.162145825, 0, 5), x_dir=(-1, 0, 0), z_dir=(0, 0, 1))):
        with Locations((235.124424731, -12.589784946)):
            Rectangle(SYM_TRIE2_COPY_7_SKETCH_W, SYM_TRIE2_COPY_7_SKETCH_H)
    extrude(amount=-SYM_TRIE2_COPY_7_DEPTH, mode=Mode.SUBTRACT)

    # Esquisse9 → Enlèv. mat.-Extru.8 (cut)
    with BuildSketch(Plane.XY.offset(5)):
        with Locations((250.081072913, -69.210408177)):
            Rectangle(ESQUISSE9_W, ESQUISSE9_H)
    enl_v_mat_extru_8 = extrude(amount=-ENL_V_MAT_EXTRU_8_DEPTH, mode=Mode.SUBTRACT)

    # Esquisse10 → Enlèv. mat.-Extru.9 (cut)
    with BuildSketch(Plane.XY.offset(5)):
        with Locations((250.124424731, -47.410215054)):
            Rectangle(ESQUISSE10_W, ESQUISSE10_H)
    enl_v_mat_extru_9 = extrude(amount=-ENL_V_MAT_EXTRU_9_DEPTH, mode=Mode.SUBTRACT)

    # Répétition linéaire3: Enlèv. mat.-Extru.9 ×4
    with Locations(*[(0, i * R_P_TITION_LIN_AIRE3_PITCH, 0) for i in range(1, R_P_TITION_LIN_AIRE3_COUNT)]):
        add(enl_v_mat_extru_9, mode=Mode.SUBTRACT)

    # Symétrie3: Enlèv. mat.-Extru.8, Enlèv. mat.-Extru.9 across plane
    add(enl_v_mat_extru_8.mirror(Plane(origin=(104.081072913, 0, 0), x_dir=(0, 0, 1), z_dir=(1, 0, 0))), mode=Mode.SUBTRACT)
    add(enl_v_mat_extru_9.mirror(Plane(origin=(104.081072913, 0, 0), x_dir=(0, 0, 1), z_dir=(1, 0, 0))), mode=Mode.SUBTRACT)

    # Symétrie3 copy 1 sketch → Symétrie3 copy 1 (cut)
    with BuildSketch(Plane(origin=(208.162145825, 15, 5), x_dir=(-1, 0, 0), z_dir=(0, 0, 1))):
        with Locations((250.124424731, 47.410215054)):
            Rectangle(SYM_TRIE3_COPY_1_SKETCH_W, SYM_TRIE3_COPY_1_SKETCH_H)
    extrude(amount=-SYM_TRIE3_COPY_1_DEPTH, mode=Mode.SUBTRACT)

    # Symétrie3 copy 2 sketch → Symétrie3 copy 2 (cut)
    with BuildSketch(Plane(origin=(208.162145825, 30, 5), x_dir=(-1, 0, 0), z_dir=(0, 0, 1))):
        with Locations((250.124424731, 47.410215054)):
            Rectangle(SYM_TRIE3_COPY_2_SKETCH_W, SYM_TRIE3_COPY_2_SKETCH_H)
    extrude(amount=-SYM_TRIE3_COPY_2_DEPTH, mode=Mode.SUBTRACT)

    # Symétrie3 copy 3 sketch → Symétrie3 copy 3 (cut)
    with BuildSketch(Plane(origin=(208.162145825, 45, 5), x_dir=(-1, 0, 0), z_dir=(0, 0, 1))):
        with Locations((250.124424731, 47.410215054)):
            Rectangle(SYM_TRIE3_COPY_3_SKETCH_W, SYM_TRIE3_COPY_3_SKETCH_H)
    extrude(amount=-SYM_TRIE3_COPY_3_DEPTH, mode=Mode.SUBTRACT)


solid = part.part
